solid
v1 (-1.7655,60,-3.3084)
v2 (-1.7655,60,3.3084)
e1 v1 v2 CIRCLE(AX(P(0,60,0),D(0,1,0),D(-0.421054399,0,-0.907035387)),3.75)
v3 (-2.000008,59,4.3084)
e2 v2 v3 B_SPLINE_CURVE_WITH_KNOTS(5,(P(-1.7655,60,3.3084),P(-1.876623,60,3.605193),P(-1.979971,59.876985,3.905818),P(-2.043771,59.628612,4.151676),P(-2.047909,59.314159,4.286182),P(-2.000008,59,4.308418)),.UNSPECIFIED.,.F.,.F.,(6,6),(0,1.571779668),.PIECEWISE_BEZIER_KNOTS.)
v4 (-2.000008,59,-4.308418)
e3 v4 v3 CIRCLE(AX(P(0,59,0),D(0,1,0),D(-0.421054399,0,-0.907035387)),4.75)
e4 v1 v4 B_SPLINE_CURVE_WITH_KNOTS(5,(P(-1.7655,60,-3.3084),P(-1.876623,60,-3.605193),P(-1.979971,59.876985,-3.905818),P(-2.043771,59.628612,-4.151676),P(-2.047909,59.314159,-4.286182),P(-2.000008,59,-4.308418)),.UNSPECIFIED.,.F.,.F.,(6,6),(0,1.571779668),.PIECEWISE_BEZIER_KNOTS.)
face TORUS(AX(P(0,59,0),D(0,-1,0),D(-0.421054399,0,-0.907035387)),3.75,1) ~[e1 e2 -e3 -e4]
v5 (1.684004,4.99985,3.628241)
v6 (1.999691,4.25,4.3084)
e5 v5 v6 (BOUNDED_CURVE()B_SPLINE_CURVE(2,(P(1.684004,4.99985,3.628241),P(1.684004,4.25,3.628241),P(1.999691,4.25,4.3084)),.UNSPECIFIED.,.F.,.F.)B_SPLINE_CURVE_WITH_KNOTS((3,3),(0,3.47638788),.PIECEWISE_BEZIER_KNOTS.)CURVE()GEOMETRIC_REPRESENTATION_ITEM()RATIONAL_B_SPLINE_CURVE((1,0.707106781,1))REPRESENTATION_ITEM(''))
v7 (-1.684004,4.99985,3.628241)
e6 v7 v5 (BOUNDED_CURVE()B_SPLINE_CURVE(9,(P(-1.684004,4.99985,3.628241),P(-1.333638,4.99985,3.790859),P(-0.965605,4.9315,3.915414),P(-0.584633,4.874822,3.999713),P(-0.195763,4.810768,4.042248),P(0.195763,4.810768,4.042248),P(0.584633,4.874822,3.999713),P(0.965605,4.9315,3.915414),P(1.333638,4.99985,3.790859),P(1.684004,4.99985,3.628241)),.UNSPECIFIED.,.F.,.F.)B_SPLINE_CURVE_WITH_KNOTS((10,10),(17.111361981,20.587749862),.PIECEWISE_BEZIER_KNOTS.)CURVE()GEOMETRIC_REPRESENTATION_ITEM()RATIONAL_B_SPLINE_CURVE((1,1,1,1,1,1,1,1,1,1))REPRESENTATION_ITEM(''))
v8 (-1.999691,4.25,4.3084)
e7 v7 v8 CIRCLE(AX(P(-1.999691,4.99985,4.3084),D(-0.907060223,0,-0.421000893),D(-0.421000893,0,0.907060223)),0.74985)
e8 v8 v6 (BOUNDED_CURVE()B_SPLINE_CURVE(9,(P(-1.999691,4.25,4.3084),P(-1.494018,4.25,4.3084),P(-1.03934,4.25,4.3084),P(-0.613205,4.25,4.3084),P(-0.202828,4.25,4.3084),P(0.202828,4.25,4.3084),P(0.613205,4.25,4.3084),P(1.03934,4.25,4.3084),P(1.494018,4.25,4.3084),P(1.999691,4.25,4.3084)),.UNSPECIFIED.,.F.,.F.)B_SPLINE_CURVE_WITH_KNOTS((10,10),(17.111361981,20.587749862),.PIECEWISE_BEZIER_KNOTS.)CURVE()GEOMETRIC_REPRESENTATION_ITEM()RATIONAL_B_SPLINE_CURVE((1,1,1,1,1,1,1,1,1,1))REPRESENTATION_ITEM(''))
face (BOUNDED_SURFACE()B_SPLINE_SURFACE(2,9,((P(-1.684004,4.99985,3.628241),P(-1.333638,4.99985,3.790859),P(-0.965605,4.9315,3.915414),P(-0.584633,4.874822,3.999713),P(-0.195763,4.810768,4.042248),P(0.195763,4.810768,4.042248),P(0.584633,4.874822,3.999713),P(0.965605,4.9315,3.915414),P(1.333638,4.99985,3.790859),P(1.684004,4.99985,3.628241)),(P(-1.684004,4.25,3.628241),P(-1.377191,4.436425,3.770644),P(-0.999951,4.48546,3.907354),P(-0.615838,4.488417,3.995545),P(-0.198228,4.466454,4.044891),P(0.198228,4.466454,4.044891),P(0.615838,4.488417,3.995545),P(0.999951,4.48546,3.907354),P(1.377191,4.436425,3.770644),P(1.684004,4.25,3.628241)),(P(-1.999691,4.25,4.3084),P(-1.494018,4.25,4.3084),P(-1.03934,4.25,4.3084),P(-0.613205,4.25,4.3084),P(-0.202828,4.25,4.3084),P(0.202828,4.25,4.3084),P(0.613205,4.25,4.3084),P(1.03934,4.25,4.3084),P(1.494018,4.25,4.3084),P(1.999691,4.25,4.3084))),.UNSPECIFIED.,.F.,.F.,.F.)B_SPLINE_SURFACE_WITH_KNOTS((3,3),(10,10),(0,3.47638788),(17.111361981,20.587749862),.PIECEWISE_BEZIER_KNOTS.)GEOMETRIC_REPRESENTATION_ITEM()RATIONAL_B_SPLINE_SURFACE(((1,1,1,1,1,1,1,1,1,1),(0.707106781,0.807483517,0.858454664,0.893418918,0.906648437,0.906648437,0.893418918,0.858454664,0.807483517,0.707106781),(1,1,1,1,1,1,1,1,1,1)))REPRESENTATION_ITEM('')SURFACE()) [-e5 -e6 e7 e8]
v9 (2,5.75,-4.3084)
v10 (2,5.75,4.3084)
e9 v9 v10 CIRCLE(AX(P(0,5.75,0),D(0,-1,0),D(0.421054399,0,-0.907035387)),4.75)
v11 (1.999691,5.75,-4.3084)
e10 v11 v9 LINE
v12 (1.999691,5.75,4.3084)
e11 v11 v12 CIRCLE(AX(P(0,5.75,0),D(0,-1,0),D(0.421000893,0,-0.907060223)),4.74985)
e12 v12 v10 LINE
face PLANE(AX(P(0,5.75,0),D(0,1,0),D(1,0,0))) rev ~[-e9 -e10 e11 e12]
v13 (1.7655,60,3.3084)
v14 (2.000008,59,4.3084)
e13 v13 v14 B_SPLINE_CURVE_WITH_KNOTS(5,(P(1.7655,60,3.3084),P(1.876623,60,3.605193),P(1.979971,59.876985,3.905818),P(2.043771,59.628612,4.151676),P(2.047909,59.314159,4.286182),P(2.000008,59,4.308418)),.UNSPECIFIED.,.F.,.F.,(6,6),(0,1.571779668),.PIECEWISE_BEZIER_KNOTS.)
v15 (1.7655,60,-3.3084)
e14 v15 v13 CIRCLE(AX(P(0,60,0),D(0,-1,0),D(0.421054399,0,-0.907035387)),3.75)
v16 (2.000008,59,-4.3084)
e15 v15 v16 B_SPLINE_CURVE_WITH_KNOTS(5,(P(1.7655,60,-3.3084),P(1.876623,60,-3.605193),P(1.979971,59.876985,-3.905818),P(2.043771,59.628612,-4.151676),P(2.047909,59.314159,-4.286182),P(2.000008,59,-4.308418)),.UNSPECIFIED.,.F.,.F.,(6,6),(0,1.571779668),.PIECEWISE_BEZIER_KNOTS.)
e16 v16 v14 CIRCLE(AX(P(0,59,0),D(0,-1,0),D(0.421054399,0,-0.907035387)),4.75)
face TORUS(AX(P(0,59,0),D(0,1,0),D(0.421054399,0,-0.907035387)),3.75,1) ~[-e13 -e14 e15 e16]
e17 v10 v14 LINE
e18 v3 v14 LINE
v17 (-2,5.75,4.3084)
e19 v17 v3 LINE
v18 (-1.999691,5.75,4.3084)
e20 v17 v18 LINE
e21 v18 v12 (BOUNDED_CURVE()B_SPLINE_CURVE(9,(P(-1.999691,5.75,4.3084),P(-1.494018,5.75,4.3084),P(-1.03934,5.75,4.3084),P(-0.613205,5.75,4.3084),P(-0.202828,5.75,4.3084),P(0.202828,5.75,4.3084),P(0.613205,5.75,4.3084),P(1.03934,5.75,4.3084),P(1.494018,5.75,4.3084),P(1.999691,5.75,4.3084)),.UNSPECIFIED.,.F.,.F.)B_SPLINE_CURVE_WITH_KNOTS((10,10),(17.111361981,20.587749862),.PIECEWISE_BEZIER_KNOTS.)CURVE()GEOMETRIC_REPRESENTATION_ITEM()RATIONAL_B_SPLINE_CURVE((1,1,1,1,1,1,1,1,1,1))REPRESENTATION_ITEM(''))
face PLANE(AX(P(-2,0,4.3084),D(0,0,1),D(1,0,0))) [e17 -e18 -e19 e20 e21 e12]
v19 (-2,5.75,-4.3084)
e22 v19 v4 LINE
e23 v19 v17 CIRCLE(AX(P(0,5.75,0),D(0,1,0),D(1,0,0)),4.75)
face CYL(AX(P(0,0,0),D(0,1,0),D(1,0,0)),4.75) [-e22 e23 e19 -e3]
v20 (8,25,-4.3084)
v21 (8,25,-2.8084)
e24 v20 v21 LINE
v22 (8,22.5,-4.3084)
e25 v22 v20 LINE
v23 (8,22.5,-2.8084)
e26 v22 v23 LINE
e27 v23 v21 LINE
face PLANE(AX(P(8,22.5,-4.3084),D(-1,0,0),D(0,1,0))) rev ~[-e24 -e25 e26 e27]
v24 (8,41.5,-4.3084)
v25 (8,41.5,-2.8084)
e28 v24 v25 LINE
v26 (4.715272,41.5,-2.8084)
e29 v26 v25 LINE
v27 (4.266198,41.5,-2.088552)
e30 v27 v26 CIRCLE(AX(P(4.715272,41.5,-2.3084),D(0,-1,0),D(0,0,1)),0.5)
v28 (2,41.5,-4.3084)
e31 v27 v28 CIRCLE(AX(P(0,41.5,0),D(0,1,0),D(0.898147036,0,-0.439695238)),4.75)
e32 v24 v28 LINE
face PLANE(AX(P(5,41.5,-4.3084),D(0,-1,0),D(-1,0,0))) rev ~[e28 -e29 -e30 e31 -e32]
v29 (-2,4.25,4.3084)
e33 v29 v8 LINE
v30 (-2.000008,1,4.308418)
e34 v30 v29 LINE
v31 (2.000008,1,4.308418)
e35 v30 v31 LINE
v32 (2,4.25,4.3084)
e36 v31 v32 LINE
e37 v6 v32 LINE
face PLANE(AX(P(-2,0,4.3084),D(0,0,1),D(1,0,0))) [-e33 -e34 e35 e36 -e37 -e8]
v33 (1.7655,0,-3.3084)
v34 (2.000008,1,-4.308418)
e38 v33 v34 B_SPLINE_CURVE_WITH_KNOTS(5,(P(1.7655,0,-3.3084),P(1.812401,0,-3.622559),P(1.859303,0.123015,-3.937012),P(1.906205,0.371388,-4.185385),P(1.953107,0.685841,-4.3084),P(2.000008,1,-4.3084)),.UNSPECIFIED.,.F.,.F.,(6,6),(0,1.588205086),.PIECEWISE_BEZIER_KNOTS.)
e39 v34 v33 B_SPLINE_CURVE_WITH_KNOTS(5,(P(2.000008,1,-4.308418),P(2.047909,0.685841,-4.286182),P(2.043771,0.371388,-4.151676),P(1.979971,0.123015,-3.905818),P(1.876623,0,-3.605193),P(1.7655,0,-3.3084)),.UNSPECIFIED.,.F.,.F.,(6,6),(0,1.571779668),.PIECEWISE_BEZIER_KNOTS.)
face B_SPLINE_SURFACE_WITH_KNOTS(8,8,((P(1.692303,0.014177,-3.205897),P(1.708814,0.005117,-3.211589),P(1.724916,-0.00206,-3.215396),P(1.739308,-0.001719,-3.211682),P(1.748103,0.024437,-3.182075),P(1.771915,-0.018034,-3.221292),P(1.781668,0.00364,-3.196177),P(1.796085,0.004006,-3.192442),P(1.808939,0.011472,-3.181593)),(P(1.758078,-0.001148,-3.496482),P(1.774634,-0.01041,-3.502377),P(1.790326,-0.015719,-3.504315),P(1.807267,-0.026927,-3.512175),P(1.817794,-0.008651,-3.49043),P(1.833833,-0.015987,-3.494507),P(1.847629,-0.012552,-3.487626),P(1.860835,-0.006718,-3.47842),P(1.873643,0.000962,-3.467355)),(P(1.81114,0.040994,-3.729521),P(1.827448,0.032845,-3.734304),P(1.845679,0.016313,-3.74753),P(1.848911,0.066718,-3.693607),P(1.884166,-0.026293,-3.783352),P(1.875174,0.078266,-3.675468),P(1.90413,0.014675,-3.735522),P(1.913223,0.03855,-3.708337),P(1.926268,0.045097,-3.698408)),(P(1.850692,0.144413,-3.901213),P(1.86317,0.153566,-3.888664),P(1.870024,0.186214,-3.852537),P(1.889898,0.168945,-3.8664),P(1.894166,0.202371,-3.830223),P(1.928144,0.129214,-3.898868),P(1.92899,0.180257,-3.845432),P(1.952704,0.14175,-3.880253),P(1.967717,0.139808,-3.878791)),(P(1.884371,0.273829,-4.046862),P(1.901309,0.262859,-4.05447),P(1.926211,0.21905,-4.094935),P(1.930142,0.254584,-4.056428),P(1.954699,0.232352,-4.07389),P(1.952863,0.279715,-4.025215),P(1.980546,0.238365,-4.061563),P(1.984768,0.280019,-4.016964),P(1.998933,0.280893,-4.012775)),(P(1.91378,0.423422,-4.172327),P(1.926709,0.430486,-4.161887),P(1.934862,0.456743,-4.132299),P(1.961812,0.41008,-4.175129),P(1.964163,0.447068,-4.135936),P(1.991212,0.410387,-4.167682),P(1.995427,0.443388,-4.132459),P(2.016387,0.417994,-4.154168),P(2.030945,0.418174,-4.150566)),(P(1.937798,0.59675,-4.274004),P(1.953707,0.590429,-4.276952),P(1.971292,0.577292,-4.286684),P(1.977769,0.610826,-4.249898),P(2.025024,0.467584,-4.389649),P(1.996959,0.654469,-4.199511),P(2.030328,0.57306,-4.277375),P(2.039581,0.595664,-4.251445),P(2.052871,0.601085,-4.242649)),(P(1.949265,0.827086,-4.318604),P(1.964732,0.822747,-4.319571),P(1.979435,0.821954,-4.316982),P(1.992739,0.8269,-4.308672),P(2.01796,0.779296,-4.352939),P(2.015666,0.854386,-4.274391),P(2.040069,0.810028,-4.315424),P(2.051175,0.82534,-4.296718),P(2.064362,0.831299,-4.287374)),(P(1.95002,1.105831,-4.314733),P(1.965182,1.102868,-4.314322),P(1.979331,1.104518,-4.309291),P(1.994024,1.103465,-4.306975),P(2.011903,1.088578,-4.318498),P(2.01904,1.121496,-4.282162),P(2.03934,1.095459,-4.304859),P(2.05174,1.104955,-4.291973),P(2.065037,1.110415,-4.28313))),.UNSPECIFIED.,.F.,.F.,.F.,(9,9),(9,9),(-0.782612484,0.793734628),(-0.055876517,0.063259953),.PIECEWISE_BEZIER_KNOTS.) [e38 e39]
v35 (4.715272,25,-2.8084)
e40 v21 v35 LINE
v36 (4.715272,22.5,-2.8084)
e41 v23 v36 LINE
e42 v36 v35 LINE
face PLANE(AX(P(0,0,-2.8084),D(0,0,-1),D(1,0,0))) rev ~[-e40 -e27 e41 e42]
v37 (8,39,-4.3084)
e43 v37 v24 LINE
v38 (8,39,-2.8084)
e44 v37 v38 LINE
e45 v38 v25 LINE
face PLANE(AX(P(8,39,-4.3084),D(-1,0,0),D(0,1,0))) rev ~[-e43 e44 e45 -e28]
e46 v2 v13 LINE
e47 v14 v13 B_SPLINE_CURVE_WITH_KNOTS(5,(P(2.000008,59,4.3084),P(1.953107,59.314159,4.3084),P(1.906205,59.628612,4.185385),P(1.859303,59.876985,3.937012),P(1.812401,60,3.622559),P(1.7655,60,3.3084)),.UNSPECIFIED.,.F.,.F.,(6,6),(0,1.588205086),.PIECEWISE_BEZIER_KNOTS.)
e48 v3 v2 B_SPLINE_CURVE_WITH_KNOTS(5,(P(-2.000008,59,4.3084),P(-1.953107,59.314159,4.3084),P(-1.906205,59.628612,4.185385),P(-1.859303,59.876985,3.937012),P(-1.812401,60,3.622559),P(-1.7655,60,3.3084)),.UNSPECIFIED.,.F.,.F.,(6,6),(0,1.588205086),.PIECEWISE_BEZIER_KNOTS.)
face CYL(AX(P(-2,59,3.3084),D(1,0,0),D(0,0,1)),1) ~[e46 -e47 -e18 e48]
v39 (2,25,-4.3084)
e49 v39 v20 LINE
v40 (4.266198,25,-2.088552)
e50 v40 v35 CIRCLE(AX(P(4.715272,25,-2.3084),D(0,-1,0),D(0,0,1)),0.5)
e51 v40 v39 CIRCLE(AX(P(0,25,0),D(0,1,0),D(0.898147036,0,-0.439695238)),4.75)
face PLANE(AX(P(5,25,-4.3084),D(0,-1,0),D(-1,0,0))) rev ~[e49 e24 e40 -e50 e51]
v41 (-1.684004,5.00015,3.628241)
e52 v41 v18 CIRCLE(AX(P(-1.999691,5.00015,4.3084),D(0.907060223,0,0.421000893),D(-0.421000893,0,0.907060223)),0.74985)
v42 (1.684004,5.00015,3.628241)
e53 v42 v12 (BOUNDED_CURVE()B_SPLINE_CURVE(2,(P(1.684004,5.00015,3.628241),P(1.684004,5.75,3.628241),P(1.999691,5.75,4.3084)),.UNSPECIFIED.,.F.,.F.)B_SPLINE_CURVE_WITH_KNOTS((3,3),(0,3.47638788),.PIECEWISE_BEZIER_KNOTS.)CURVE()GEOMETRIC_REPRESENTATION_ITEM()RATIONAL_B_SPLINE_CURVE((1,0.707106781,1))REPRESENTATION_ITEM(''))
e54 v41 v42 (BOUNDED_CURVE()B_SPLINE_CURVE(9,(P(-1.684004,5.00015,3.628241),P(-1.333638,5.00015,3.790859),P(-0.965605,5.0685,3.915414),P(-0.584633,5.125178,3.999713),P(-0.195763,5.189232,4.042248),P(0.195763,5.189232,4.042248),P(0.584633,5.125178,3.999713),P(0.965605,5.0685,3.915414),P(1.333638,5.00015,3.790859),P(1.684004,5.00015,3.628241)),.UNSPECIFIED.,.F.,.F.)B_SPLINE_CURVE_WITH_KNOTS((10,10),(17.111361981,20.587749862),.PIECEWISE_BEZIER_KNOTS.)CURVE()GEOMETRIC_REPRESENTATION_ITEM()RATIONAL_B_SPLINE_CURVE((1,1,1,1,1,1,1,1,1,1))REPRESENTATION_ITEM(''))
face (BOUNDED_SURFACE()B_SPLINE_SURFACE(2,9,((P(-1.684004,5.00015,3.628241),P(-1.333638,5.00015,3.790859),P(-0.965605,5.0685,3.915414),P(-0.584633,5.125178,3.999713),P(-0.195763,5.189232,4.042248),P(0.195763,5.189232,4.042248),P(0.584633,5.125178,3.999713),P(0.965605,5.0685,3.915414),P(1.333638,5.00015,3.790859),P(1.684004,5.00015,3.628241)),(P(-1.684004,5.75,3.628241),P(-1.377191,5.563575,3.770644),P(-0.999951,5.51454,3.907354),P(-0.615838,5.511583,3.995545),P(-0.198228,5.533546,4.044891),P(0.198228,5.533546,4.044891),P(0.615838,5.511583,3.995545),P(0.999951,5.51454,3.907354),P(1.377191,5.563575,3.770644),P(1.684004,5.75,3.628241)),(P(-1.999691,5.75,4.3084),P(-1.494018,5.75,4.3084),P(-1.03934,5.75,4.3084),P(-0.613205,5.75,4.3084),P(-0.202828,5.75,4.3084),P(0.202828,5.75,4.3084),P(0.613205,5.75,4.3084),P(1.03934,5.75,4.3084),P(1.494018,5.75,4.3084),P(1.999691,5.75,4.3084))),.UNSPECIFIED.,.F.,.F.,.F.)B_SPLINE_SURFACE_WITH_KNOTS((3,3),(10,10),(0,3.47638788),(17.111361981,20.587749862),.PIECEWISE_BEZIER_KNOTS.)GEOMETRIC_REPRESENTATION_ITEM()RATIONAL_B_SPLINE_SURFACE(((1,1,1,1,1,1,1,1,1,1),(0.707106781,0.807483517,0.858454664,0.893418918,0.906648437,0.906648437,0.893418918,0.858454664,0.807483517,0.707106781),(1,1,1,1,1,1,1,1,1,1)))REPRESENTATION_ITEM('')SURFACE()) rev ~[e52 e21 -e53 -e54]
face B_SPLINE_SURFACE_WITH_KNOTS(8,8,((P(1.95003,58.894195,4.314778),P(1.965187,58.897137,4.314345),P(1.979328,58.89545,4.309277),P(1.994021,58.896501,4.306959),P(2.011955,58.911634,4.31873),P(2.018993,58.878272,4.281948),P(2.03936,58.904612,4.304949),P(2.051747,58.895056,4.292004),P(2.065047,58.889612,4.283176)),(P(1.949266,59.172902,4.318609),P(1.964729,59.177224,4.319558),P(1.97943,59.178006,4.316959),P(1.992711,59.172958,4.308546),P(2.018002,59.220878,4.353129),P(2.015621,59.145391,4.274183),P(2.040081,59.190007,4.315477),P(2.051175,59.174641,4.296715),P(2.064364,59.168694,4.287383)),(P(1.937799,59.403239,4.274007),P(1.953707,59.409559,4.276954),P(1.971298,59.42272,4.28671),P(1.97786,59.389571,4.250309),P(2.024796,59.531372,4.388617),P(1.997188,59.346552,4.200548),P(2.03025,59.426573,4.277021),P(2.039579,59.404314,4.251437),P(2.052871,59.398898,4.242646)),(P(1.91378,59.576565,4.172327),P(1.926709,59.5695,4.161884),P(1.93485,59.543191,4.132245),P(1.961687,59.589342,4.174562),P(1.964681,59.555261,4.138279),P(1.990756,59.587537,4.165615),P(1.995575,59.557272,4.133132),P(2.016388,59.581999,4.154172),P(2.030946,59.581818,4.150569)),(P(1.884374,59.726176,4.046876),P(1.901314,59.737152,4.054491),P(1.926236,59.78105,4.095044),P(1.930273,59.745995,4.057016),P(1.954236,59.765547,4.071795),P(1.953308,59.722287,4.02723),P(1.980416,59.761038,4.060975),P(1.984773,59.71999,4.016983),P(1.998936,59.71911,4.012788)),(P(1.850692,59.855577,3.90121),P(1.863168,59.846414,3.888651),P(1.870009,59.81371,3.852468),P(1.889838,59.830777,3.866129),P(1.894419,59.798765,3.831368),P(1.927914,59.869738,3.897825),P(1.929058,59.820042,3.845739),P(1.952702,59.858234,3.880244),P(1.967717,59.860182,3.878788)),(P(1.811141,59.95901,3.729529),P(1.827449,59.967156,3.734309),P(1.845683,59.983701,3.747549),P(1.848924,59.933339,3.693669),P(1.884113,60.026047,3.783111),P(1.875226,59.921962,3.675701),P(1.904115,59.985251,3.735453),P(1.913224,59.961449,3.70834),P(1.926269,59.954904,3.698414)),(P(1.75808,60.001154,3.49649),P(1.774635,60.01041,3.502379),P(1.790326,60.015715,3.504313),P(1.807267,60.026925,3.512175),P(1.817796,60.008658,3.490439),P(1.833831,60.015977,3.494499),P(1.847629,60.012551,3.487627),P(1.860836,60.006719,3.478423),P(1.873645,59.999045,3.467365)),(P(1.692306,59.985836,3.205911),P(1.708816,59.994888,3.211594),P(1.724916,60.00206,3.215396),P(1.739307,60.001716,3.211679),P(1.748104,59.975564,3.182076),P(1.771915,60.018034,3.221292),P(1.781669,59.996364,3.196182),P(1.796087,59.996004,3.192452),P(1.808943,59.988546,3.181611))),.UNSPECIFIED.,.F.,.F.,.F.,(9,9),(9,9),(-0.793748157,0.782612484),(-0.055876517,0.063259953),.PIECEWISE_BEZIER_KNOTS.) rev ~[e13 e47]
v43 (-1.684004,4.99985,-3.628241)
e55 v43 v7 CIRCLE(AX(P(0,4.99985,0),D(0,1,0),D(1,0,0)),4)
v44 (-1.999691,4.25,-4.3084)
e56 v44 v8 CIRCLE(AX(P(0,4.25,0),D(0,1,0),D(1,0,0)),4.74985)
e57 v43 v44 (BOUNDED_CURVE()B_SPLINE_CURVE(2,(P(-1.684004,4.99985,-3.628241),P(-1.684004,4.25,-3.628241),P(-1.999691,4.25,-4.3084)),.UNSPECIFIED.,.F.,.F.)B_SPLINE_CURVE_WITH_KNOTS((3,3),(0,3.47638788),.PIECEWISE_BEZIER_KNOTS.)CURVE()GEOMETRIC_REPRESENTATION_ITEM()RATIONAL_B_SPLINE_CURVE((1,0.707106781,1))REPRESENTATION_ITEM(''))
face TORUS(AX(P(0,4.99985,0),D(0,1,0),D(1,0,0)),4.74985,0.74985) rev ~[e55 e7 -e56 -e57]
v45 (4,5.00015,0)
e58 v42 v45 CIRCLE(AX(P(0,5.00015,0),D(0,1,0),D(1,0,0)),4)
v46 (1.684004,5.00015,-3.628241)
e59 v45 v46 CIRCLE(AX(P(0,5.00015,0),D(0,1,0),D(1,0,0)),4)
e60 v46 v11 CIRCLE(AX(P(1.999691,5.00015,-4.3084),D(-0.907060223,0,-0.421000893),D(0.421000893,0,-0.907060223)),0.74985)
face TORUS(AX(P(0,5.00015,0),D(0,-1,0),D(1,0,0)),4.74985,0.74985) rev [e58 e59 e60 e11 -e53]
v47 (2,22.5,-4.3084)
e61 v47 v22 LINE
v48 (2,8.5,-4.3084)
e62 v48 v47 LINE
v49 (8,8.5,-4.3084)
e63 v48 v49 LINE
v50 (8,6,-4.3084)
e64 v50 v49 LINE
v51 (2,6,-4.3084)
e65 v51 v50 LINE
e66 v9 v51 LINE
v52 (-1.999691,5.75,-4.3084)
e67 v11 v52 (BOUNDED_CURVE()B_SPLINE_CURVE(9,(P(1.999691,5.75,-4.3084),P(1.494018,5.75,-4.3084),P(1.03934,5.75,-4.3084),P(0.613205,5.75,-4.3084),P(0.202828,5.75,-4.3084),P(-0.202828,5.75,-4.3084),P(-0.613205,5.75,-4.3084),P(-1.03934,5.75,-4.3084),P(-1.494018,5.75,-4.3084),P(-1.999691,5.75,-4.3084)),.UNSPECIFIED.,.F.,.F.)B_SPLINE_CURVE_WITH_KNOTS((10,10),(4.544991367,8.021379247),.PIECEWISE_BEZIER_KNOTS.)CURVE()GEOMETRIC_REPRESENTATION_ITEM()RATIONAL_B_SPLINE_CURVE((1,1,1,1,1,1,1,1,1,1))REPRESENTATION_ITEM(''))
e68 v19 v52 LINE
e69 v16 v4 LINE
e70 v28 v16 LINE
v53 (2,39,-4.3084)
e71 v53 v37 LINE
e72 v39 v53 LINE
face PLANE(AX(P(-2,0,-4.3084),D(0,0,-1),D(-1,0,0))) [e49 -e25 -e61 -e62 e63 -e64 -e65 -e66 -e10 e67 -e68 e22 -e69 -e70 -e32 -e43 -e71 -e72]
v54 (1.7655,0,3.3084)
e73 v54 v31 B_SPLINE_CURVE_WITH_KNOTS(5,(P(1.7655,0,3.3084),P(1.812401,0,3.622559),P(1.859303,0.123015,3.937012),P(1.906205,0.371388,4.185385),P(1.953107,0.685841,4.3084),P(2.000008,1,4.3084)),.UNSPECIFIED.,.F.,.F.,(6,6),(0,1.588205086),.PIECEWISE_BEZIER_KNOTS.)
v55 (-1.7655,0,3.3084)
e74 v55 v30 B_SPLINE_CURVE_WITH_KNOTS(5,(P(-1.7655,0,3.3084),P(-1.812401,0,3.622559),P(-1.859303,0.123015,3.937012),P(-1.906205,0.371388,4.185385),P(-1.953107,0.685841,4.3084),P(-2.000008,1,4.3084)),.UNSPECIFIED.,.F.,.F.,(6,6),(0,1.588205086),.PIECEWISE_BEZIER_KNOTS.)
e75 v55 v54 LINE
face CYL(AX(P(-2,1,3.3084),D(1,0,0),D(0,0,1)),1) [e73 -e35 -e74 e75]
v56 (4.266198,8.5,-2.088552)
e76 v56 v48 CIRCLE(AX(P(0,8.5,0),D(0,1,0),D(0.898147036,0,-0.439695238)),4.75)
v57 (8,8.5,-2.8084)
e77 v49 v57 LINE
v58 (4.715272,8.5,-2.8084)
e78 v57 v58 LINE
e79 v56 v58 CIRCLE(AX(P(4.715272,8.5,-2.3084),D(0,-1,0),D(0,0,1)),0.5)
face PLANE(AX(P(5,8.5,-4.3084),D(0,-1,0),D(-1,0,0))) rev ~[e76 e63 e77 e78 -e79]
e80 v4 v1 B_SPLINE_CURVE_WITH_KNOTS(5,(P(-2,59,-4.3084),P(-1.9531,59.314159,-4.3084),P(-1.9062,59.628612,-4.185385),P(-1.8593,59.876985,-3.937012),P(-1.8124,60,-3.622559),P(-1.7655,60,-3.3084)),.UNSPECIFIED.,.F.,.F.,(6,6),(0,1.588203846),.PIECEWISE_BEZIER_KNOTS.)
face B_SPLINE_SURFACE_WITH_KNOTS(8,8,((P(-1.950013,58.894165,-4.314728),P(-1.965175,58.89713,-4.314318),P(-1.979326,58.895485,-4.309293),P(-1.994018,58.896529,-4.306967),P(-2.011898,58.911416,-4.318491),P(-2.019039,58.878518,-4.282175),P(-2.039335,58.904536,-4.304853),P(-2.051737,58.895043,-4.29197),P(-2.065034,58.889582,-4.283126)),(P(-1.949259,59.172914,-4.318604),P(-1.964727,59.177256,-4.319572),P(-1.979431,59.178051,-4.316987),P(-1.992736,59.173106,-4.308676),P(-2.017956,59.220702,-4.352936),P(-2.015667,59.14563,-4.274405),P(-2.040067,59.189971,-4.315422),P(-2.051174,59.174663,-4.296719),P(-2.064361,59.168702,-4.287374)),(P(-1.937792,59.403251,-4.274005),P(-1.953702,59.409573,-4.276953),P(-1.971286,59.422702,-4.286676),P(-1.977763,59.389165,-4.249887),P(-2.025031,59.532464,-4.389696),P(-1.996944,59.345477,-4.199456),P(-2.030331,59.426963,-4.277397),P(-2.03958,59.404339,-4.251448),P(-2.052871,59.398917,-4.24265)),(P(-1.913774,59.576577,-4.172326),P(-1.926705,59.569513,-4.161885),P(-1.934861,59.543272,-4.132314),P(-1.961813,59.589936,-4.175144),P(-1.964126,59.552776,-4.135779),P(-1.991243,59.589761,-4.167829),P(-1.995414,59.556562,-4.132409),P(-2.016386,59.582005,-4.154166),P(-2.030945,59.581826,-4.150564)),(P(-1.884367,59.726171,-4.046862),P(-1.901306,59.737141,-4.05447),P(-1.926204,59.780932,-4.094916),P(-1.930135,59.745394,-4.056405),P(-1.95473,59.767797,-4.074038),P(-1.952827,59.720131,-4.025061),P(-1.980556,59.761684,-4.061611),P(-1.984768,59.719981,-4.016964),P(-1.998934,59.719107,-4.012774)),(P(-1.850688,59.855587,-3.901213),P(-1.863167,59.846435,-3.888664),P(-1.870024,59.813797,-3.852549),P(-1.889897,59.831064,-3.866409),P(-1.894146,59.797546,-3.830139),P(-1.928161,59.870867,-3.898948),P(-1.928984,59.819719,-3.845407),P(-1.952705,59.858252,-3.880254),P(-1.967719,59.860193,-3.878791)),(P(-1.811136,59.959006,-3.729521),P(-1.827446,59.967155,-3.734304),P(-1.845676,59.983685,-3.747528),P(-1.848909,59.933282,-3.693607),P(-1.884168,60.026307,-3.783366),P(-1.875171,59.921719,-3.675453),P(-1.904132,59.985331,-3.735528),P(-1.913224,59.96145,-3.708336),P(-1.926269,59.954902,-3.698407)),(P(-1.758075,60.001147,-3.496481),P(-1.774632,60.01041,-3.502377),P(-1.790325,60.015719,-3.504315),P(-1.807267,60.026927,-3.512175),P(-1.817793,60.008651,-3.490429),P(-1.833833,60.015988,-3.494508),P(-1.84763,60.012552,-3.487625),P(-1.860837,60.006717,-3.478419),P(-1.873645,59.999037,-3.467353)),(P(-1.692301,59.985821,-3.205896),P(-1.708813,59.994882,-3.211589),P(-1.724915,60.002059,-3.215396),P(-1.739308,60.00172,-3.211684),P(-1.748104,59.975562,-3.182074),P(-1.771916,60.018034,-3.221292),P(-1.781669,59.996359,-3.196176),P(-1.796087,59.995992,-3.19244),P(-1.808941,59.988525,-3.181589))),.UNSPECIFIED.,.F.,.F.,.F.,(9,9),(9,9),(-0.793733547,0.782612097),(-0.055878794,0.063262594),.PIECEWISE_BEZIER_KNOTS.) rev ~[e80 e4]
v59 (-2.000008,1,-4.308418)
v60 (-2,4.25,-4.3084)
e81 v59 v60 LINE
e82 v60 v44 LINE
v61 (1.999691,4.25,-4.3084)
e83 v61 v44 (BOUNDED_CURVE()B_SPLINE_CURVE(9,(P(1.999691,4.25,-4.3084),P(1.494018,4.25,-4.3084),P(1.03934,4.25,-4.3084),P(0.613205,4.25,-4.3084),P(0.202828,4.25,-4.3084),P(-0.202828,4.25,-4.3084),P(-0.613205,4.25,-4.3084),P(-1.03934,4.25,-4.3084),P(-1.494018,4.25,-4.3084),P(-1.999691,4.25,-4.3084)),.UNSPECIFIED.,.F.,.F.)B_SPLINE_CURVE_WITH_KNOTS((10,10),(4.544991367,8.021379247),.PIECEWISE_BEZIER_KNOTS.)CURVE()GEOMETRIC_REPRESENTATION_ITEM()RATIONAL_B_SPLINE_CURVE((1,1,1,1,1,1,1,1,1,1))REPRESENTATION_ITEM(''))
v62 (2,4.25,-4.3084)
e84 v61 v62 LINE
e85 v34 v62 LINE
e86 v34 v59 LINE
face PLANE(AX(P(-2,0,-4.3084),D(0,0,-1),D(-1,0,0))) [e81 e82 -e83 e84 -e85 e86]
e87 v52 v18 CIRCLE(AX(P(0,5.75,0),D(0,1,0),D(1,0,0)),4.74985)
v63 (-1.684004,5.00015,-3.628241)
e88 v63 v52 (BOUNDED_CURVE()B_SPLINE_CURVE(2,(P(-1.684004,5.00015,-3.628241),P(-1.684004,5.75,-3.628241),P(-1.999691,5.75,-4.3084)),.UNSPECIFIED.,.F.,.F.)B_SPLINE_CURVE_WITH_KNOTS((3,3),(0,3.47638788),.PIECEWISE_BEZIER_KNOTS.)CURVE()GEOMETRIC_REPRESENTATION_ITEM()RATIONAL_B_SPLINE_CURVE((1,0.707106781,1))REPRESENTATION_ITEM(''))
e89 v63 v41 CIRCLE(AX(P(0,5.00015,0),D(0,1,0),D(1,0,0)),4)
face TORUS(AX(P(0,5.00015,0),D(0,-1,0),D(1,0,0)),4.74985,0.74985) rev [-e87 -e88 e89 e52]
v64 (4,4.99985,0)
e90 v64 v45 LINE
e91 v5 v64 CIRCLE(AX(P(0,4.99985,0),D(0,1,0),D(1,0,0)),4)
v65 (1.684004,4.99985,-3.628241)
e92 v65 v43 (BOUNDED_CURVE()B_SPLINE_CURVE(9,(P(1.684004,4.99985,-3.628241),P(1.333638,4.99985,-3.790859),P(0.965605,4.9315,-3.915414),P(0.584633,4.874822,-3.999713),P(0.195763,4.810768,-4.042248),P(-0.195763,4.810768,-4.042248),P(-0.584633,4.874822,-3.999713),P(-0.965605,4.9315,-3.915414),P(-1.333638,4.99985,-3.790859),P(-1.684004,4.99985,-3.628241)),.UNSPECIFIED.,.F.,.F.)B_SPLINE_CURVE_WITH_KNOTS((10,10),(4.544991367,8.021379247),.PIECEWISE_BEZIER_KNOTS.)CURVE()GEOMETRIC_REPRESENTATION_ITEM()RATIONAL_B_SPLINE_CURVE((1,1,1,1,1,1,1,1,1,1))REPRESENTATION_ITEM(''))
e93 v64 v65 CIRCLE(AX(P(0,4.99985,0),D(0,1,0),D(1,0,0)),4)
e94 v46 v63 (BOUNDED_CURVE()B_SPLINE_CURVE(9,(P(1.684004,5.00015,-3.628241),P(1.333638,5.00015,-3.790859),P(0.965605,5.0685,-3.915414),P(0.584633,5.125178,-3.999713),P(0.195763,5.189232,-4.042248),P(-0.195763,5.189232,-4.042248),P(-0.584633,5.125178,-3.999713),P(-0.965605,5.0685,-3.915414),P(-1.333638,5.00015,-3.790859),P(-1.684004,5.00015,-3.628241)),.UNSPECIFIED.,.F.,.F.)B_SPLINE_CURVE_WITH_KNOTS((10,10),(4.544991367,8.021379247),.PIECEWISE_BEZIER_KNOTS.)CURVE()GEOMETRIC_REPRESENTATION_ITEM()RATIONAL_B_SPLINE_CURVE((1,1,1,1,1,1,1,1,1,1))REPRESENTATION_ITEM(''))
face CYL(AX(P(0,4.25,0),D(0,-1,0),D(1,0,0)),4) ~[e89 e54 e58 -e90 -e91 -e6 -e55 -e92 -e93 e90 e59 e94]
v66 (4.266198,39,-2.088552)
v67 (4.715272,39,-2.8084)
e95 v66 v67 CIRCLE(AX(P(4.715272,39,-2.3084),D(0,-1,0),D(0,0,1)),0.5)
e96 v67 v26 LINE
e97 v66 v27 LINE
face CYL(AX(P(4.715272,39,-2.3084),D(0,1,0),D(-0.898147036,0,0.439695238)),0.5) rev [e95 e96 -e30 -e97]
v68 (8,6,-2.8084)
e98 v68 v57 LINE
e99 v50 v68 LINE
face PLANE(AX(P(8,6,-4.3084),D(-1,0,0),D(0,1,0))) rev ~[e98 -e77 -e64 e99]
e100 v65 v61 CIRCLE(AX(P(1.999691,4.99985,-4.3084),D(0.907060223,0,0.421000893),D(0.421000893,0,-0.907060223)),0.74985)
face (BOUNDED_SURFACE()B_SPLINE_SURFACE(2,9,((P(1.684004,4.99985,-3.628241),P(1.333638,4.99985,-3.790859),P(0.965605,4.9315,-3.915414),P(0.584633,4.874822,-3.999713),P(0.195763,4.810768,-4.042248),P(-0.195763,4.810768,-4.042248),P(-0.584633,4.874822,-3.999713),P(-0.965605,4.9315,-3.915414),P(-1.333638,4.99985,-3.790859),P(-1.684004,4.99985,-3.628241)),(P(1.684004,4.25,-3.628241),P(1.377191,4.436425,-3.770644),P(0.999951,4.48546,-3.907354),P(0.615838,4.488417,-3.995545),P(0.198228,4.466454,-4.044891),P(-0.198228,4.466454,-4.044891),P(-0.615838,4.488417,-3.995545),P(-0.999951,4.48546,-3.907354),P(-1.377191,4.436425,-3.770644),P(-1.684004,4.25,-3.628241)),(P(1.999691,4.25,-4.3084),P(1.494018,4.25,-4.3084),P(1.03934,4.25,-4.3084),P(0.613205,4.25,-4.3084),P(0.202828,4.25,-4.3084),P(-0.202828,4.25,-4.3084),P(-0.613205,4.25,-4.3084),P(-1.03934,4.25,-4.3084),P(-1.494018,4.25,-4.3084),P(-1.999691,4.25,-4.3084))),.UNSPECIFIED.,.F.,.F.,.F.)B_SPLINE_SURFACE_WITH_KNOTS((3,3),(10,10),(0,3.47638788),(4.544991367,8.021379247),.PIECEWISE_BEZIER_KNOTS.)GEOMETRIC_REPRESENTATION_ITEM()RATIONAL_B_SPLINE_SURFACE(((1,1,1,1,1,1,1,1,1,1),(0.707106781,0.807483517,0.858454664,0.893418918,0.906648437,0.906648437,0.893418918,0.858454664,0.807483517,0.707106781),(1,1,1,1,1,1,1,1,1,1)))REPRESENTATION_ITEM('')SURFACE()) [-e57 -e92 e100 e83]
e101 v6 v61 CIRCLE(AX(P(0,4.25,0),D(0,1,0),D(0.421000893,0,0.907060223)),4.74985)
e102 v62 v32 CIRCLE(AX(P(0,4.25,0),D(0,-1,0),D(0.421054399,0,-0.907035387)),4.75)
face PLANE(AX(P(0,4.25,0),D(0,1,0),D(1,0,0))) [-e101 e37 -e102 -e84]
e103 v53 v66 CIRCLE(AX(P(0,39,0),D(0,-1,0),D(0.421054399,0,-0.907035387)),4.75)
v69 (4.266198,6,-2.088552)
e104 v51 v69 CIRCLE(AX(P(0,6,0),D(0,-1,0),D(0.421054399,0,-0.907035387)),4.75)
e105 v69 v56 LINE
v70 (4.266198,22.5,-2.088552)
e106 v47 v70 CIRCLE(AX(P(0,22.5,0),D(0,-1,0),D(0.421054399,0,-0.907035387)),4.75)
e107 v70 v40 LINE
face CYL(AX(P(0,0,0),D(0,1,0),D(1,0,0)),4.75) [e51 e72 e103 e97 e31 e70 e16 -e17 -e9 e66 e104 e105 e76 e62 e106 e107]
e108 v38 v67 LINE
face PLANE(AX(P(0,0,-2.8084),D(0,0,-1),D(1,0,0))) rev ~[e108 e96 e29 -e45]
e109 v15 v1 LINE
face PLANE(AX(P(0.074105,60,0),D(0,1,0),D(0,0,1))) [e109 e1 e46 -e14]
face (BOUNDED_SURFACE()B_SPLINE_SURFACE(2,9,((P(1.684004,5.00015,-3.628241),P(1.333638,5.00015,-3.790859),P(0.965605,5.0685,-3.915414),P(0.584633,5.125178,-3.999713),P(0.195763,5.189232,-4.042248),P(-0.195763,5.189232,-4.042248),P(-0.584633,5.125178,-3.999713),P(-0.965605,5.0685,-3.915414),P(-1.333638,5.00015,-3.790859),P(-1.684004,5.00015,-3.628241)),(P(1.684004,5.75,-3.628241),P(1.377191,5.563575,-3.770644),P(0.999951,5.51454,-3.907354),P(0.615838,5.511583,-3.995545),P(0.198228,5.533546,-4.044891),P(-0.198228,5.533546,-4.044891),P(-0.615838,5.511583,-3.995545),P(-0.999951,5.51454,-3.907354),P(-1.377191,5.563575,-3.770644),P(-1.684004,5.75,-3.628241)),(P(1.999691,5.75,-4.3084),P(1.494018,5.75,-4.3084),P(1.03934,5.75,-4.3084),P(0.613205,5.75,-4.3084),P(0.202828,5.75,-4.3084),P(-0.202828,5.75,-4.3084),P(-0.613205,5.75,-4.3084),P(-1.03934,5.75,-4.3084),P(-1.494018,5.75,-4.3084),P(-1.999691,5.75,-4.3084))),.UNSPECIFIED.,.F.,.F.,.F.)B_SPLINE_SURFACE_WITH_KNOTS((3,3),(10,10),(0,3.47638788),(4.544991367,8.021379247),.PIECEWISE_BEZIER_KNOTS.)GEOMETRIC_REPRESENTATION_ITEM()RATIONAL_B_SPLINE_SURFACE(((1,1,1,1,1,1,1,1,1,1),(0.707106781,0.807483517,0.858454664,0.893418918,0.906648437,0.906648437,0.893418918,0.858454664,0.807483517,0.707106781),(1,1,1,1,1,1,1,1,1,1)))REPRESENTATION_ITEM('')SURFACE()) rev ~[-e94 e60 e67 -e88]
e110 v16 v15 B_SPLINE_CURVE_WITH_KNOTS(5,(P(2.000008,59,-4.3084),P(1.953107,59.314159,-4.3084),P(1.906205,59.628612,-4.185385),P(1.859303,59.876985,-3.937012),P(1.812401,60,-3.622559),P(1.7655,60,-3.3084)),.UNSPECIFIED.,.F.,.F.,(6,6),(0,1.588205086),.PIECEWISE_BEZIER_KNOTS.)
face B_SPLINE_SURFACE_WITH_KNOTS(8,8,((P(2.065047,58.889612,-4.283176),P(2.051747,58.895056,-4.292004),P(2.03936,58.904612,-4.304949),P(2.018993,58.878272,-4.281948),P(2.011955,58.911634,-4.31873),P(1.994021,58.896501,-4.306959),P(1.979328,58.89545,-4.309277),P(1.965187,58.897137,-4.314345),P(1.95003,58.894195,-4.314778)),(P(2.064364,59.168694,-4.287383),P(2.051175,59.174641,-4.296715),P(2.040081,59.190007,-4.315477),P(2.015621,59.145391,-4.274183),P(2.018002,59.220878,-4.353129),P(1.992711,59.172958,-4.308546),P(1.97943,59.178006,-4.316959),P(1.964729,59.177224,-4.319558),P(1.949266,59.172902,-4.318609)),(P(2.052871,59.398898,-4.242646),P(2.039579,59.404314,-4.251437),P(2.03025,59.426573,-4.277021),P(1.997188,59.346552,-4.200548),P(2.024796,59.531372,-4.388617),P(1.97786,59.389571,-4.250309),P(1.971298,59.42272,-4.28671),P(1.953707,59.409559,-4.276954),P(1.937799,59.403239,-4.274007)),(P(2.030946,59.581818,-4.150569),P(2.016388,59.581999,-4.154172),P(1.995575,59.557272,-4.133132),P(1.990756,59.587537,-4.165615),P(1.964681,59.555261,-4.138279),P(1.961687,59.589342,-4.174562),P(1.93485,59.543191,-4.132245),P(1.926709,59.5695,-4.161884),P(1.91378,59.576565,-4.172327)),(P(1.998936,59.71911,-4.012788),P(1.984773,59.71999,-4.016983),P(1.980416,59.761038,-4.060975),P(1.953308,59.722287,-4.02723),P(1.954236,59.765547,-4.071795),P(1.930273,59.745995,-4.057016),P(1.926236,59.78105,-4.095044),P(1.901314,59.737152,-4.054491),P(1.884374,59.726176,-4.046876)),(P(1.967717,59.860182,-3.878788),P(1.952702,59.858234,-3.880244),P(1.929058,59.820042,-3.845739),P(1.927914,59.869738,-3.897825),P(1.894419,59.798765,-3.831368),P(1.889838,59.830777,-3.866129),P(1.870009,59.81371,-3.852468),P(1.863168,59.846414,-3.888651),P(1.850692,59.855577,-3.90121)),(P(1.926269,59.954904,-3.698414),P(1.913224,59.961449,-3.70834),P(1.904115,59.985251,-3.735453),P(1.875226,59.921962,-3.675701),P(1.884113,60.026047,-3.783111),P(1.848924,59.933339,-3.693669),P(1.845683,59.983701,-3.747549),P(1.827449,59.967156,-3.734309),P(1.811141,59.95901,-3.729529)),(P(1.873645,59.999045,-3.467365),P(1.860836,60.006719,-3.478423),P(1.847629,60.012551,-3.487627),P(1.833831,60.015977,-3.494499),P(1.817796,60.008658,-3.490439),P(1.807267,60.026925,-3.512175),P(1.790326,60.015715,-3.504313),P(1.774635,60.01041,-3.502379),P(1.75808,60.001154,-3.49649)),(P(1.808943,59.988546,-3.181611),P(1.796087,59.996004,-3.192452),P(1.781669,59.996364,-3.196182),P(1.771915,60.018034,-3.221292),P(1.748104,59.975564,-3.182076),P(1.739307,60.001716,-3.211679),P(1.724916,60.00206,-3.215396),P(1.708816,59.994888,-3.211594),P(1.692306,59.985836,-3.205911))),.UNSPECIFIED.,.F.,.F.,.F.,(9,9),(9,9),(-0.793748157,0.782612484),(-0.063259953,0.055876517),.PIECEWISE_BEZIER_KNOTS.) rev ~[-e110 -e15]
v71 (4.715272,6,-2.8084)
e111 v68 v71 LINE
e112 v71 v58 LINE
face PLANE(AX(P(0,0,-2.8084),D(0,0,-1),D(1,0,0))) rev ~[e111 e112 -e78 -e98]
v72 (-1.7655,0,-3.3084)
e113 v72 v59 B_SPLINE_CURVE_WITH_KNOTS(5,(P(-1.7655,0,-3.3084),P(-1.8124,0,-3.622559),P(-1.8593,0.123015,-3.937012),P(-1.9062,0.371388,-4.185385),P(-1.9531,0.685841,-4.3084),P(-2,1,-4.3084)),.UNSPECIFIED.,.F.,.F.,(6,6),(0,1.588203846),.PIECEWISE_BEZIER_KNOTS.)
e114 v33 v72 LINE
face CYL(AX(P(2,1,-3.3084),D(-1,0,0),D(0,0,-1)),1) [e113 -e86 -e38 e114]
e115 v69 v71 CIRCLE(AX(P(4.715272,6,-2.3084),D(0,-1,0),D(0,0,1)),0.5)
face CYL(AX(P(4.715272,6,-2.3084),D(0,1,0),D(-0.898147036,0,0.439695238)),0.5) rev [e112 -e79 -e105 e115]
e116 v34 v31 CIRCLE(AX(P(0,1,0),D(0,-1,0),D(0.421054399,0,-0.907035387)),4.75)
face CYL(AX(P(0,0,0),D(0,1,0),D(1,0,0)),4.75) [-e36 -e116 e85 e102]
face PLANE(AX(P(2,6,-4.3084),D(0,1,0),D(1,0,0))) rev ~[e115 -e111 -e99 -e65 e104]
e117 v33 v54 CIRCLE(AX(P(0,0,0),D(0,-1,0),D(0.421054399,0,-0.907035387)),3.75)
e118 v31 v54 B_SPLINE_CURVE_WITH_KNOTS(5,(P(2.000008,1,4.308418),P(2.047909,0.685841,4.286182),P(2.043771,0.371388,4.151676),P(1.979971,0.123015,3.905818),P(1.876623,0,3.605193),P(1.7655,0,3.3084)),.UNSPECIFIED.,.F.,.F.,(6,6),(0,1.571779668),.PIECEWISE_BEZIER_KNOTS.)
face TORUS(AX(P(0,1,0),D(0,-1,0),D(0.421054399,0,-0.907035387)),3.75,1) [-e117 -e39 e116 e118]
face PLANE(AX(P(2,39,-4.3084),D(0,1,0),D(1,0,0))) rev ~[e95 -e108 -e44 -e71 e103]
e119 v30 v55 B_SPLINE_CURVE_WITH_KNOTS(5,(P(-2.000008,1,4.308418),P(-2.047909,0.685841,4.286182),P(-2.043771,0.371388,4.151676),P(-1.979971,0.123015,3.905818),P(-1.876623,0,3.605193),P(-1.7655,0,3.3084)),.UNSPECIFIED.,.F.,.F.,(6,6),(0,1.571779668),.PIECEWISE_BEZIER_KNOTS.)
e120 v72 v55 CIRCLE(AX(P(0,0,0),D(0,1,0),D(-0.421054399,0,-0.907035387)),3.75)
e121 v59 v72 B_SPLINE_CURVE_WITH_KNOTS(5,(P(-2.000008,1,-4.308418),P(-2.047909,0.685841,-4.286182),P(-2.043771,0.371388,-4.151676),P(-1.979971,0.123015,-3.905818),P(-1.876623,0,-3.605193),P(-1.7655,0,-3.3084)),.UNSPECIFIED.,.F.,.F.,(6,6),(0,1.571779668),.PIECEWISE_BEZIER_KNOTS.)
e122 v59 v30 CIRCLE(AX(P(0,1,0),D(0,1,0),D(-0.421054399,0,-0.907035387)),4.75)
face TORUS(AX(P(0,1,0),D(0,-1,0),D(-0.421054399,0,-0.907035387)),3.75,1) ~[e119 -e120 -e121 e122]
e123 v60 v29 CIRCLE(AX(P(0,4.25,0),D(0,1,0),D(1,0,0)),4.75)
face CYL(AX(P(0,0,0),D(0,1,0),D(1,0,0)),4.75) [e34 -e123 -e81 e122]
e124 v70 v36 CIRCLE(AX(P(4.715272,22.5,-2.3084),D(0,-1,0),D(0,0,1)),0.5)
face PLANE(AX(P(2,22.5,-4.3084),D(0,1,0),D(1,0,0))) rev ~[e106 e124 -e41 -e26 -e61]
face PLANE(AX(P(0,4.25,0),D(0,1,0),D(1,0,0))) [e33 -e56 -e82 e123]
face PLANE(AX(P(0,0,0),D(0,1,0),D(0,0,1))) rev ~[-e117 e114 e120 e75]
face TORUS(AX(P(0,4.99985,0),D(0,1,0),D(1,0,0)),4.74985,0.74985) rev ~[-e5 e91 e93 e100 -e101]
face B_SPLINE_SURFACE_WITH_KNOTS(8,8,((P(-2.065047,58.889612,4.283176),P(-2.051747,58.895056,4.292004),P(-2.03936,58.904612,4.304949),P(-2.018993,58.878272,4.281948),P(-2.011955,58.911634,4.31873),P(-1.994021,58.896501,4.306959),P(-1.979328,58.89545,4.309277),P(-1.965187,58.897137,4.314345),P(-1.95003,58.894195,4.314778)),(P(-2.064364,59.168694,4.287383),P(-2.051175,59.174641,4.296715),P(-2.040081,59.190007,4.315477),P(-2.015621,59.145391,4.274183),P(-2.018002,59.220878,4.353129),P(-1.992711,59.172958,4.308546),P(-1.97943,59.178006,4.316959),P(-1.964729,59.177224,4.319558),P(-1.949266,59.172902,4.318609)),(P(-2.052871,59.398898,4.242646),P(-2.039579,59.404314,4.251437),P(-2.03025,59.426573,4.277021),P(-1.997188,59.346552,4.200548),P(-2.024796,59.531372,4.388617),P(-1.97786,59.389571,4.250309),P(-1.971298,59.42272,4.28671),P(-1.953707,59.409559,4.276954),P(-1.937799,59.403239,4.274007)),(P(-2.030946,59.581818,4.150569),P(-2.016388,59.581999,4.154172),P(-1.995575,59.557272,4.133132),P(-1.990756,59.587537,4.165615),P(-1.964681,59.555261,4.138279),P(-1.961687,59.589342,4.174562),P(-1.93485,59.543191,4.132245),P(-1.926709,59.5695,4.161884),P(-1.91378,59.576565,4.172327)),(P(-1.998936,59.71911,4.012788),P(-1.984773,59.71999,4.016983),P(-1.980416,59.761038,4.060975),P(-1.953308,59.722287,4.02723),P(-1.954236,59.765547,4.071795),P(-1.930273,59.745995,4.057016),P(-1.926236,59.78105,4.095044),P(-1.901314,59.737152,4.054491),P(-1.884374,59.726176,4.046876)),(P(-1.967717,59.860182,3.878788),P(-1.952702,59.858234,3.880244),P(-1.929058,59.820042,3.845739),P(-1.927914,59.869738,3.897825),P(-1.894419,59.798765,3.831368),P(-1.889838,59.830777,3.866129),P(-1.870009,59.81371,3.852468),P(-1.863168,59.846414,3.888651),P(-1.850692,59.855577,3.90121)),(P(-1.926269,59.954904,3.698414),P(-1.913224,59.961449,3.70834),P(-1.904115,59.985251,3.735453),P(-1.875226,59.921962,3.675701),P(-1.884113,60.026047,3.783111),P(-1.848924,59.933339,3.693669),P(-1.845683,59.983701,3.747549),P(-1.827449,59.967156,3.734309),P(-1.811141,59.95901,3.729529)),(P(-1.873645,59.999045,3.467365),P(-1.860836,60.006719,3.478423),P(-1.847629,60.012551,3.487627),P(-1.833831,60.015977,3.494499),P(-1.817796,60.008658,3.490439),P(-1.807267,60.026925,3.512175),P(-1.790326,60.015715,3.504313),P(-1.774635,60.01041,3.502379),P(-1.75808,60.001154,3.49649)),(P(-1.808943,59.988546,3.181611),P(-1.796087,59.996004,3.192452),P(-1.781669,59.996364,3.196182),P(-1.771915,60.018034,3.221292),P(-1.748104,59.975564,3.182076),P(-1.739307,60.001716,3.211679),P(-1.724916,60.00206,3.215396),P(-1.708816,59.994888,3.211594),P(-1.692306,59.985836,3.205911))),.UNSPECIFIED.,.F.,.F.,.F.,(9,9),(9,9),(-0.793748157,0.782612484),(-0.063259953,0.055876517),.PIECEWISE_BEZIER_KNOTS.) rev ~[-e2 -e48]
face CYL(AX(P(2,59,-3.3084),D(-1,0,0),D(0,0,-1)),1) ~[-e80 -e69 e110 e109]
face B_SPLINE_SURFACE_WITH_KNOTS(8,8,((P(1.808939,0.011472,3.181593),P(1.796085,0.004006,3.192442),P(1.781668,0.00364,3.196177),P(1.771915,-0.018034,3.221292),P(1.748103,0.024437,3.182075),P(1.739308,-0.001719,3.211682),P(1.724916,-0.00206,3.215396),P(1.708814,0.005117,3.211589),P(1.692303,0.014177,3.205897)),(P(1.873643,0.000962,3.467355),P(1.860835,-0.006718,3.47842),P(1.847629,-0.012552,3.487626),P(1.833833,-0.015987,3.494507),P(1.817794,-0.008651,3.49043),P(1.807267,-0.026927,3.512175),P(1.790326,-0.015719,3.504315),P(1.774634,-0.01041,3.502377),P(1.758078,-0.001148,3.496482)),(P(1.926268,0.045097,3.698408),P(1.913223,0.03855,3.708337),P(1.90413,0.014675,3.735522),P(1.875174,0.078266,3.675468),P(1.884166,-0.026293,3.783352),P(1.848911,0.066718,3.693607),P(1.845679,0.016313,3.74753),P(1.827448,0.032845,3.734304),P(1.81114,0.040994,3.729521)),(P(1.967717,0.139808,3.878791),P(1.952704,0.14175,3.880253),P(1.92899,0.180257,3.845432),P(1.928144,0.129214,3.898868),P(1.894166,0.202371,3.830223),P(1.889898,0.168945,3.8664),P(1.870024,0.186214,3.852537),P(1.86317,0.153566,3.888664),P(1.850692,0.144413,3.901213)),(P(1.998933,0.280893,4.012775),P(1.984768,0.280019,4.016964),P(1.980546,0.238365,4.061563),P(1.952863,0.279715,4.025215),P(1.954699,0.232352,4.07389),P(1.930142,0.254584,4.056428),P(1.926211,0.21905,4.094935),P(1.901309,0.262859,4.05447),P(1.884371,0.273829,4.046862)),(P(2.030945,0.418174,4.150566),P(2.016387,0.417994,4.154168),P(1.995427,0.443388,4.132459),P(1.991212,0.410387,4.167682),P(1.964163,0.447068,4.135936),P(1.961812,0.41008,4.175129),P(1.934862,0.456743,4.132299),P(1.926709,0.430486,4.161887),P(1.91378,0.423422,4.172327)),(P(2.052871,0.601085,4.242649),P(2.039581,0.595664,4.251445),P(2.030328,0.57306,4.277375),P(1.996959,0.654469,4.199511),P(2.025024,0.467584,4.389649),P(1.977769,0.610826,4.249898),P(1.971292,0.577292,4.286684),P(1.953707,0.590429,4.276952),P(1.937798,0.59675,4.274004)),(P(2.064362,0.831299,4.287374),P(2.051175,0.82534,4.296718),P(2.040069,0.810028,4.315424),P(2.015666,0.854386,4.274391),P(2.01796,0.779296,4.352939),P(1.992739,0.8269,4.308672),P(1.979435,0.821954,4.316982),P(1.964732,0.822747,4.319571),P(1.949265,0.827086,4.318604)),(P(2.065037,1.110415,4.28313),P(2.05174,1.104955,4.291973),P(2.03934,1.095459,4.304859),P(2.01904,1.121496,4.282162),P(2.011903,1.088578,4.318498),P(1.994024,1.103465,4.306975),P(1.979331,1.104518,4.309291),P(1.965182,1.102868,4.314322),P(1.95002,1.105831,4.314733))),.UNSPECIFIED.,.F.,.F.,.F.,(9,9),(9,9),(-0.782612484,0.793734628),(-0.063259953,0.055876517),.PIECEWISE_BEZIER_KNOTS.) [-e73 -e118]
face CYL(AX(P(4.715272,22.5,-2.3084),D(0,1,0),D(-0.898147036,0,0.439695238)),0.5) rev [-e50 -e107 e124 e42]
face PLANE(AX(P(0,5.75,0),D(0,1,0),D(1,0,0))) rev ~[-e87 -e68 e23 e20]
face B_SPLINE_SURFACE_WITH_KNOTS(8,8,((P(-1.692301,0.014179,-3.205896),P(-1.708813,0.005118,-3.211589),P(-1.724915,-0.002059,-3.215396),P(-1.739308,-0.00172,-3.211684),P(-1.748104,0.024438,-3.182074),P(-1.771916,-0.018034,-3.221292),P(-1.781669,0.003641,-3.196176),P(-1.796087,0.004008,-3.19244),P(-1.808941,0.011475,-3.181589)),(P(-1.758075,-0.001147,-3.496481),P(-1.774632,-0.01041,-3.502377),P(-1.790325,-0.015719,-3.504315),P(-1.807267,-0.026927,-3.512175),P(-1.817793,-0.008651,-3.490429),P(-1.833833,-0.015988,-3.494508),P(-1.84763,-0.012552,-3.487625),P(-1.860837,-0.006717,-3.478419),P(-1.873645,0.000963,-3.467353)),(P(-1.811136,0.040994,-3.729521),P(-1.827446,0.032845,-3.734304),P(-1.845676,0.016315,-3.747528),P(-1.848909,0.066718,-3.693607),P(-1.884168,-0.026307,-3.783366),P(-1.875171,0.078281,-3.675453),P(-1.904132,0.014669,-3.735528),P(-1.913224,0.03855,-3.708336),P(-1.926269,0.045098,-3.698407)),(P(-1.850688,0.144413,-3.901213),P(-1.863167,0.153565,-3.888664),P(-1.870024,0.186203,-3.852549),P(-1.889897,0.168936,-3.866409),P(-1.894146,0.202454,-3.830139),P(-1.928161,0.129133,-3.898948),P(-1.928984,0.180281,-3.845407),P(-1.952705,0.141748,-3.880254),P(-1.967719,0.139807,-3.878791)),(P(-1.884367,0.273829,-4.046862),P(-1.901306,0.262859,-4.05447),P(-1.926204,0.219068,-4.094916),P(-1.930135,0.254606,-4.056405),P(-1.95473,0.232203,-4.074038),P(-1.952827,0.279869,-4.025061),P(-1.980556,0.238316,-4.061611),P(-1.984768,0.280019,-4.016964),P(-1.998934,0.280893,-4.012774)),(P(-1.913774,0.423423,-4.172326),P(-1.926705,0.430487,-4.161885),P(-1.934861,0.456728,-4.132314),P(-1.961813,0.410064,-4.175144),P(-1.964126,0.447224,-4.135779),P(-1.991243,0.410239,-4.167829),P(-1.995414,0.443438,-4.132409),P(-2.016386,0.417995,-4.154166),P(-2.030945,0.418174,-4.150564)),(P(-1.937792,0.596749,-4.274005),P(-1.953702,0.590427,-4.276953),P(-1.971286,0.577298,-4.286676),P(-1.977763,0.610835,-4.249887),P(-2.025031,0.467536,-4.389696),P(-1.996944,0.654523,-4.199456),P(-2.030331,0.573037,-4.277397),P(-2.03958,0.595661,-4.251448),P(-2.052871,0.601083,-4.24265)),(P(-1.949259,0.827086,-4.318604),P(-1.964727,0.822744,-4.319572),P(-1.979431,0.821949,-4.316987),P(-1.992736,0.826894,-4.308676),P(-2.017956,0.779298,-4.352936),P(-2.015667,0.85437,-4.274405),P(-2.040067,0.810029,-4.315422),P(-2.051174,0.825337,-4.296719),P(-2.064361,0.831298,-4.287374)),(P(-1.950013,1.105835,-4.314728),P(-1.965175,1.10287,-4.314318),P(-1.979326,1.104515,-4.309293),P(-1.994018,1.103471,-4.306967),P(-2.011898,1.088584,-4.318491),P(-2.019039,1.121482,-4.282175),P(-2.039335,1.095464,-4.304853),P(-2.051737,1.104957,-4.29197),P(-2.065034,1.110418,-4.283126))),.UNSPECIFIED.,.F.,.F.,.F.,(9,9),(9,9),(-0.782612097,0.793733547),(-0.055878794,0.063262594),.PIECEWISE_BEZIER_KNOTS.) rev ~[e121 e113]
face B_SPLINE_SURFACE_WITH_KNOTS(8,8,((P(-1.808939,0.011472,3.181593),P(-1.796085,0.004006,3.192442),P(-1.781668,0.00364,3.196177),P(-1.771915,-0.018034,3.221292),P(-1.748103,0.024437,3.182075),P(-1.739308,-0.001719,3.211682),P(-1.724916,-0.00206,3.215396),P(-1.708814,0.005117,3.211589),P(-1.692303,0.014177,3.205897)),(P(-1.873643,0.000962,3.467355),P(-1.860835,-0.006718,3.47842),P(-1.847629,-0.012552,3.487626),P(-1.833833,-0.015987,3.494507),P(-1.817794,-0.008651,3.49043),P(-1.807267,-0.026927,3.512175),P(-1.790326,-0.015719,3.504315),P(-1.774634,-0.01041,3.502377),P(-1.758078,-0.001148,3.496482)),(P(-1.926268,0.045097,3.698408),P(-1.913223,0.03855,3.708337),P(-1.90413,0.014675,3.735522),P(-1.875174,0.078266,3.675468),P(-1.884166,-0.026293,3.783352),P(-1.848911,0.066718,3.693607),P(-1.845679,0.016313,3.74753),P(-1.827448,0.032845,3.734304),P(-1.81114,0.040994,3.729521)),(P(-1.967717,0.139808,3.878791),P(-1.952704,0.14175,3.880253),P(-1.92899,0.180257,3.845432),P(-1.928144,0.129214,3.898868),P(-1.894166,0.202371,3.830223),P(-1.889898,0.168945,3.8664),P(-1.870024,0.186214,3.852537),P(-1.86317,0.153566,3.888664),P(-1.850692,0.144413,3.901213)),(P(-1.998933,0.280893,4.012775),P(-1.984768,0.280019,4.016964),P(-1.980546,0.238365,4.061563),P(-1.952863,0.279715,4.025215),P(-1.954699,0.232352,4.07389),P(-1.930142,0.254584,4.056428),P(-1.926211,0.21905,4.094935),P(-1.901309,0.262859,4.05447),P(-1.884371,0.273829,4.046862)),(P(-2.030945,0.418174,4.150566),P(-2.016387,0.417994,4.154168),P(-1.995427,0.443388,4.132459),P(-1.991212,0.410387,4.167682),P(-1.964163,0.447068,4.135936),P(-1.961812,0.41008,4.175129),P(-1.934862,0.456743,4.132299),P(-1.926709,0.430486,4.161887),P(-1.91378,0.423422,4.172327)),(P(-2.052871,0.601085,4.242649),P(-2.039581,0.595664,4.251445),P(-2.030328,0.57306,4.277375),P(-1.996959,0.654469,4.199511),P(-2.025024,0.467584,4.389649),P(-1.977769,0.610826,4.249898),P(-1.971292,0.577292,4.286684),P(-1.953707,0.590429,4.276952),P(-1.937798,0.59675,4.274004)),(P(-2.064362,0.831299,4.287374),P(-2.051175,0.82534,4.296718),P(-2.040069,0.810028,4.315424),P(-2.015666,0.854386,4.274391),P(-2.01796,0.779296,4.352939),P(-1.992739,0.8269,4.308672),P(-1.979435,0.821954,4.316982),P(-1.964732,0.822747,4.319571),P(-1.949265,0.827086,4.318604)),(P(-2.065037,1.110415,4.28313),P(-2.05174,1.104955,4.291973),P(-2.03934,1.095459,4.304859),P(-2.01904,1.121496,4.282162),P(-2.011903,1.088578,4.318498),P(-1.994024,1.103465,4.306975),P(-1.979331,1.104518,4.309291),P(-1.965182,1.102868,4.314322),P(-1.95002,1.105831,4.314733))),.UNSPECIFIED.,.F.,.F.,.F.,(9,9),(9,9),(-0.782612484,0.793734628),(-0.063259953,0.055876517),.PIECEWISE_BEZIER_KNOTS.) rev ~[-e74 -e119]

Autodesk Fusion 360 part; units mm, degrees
sketch "The front face" plane through (0, 0, 0) normal (0, 1, 0) x (1, 0, 0)
  circle A0 centre (0, 0) radius 4.75
  line L0 (-2, -4.3084) -> (2, -4.3084)
  line L1 (-2, 4.3084) -> (2, 4.3084)
  line L2 (0, -4.75) -> (0, 4.75) construction
  circle A1 centre (0, 0) radius 4
  dimension "d1" = 9.5
  dimension "d2" = 4
  dimension "d3" = 4
  dimension "d33" = 8
sketch "The path" plane through (0, 0, 0) normal (1, 0, 0) x (0, 1, 0)
  line L0 (0, 0) -> (60, 0)
  dimension "d4" = 60
sweep "Sweep1" add profiles "The front face" path "The path" along L0 section 1 contours A0 L0 L1 | A1 makes body 1
sketch "The bottom details" plane through (0, 0, -4.3084) normal (0, 0, -1) x (1, 0, 0)
  line L0 (2, 0) -> (-2, 0)
  line L1 (-2, 0) -> (-2, -60)
  line L2 (-2, -60) -> (2, -60)
  line L3 (2, -60) -> (2, 0)
  line L4 (2, 0) -> (2, -4) construction
  line L5 (2, -4) -> (2, -6) construction
  line L6 (2, -6) -> (2, -8.5) construction
  line L7 (2, -8.5) -> (2, -22.5) construction
  line L8 (2, -22.5) -> (2, -25) construction
  line L9 (2, -25) -> (2, -39) construction
  line L10 (2, -39) -> (2, -41.5) construction
  line L11 (2, -41.5) -> (2, -60) construction
  line L12 (2, -6) -> (8, -6)
  line L13 (8, -6) -> (8, -8.5)
  line L14 (8, -8.5) -> (2, -8.5)
  line L15 (2, -8.5) -> (2, -6)
  line L16 (8, -6) -> (5, -6)
  line L17 (5, -6) -> (5, -8.5)
  line L18 (5, -8.5) -> (8, -8.5)
  line L19 (8, -8.5) -> (8, -6)
  line L20 (2, -22.5) -> (8, -22.5)
  line L21 (8, -22.5) -> (8, -25)
  line L22 (8, -25) -> (2, -25)
  line L23 (2, -25) -> (2, -22.5)
  line L24 (2, -22.5) -> (5, -22.5)
  line L25 (5, -22.5) -> (5, -25)
  line L26 (5, -25) -> (2, -25)
  line L27 (2, -25) -> (2, -22.5)
  line L28 (2, -39) -> (8, -39)
  line L29 (8, -39) -> (8, -41.5)
  line L30 (8, -41.5) -> (2, -41.5)
  line L31 (2, -41.5) -> (2, -39)
  line L32 (2, -39) -> (5, -39)
  line L33 (5, -39) -> (5, -41.5)
  line L34 (5, -41.5) -> (2, -41.5)
  line L35 (2, -41.5) -> (2, -39)
  line L36 (2, -6) -> (2, -5.75) construction
  line L37 (2, -4) -> (2, -4.25) construction
  dimension "d11" = 4
  dimension "d12" = 2
  dimension "d13" = 2.5
  dimension "d14" = 14
  dimension "d15" = 2.5
  dimension "d16" = 14
  dimension "d17" = 2.5
  dimension "d18" = 18.5
  dimension "d19" = 6
  dimension "d20" = 3
  dimension "d21" = 6
  dimension "d22" = 3
  dimension "d23" = 2.5
  dimension "d24" = 6
  dimension "d31" = 0.25
  dimension "d32" = 0.25
extrude "Extrude1" add sketch "The bottom details" against normal blind 1.5 contours L3 L12 L14 L15 L17 | L12 L13 L14 L16 L17 L18 L19 bodies 1
extrude "Extrude2" add sketch "The bottom details" against normal blind 1.5 contours L3 L20 L22 L23 L24 L25 L26 L27 | L20 L21 L22 L25 bodies 1
extrude "Extrude3" add sketch "The bottom details" against normal blind 1.5 contours L3 L28 L30 L31 L32 L33 L34 L35 | L28 L29 L30 L33 bodies 1
extrude "Extrude4" cut sketch "The front face" along normal blind 1.5 from surface at 4.25 contours A0 L0 L1 bodies 1
fillet "Fillet1" radius 0.75 1 edges at (-3.7293, 5.75, -1.4465) on bodies 1
fillet "Fillet2" radius 0.75 1 edges at (-3.7293, 4.25, -1.4465) on bodies 1
fillet "Fillet3" radius 0.5 3 edges at (3.8308, 7.25, -2.8084) (3.8308, 23.75, -2.8084) (3.8308, 40.25, -2.8084) on bodies 1
fillet "Fillet4" radius 1 8 edges at (4.75, 0, 0) (-4.75, 0, 0) (0, 0, 4.3084) (0, 0, -4.3084) (0, 60, 4.3084) (-4.75, 60, 0) (0, 60, -4.3084) (4.75, 60, 0) on bodies 1
copy_body "Body->Comp1" bodies 1 removing the originals makes body 2 in component "Shaft (1)"
component "Shaft (1)" placed x (1, 0, 0) y (0, 1, 0) z (0, 0, 1) at (0, 0, 0)
